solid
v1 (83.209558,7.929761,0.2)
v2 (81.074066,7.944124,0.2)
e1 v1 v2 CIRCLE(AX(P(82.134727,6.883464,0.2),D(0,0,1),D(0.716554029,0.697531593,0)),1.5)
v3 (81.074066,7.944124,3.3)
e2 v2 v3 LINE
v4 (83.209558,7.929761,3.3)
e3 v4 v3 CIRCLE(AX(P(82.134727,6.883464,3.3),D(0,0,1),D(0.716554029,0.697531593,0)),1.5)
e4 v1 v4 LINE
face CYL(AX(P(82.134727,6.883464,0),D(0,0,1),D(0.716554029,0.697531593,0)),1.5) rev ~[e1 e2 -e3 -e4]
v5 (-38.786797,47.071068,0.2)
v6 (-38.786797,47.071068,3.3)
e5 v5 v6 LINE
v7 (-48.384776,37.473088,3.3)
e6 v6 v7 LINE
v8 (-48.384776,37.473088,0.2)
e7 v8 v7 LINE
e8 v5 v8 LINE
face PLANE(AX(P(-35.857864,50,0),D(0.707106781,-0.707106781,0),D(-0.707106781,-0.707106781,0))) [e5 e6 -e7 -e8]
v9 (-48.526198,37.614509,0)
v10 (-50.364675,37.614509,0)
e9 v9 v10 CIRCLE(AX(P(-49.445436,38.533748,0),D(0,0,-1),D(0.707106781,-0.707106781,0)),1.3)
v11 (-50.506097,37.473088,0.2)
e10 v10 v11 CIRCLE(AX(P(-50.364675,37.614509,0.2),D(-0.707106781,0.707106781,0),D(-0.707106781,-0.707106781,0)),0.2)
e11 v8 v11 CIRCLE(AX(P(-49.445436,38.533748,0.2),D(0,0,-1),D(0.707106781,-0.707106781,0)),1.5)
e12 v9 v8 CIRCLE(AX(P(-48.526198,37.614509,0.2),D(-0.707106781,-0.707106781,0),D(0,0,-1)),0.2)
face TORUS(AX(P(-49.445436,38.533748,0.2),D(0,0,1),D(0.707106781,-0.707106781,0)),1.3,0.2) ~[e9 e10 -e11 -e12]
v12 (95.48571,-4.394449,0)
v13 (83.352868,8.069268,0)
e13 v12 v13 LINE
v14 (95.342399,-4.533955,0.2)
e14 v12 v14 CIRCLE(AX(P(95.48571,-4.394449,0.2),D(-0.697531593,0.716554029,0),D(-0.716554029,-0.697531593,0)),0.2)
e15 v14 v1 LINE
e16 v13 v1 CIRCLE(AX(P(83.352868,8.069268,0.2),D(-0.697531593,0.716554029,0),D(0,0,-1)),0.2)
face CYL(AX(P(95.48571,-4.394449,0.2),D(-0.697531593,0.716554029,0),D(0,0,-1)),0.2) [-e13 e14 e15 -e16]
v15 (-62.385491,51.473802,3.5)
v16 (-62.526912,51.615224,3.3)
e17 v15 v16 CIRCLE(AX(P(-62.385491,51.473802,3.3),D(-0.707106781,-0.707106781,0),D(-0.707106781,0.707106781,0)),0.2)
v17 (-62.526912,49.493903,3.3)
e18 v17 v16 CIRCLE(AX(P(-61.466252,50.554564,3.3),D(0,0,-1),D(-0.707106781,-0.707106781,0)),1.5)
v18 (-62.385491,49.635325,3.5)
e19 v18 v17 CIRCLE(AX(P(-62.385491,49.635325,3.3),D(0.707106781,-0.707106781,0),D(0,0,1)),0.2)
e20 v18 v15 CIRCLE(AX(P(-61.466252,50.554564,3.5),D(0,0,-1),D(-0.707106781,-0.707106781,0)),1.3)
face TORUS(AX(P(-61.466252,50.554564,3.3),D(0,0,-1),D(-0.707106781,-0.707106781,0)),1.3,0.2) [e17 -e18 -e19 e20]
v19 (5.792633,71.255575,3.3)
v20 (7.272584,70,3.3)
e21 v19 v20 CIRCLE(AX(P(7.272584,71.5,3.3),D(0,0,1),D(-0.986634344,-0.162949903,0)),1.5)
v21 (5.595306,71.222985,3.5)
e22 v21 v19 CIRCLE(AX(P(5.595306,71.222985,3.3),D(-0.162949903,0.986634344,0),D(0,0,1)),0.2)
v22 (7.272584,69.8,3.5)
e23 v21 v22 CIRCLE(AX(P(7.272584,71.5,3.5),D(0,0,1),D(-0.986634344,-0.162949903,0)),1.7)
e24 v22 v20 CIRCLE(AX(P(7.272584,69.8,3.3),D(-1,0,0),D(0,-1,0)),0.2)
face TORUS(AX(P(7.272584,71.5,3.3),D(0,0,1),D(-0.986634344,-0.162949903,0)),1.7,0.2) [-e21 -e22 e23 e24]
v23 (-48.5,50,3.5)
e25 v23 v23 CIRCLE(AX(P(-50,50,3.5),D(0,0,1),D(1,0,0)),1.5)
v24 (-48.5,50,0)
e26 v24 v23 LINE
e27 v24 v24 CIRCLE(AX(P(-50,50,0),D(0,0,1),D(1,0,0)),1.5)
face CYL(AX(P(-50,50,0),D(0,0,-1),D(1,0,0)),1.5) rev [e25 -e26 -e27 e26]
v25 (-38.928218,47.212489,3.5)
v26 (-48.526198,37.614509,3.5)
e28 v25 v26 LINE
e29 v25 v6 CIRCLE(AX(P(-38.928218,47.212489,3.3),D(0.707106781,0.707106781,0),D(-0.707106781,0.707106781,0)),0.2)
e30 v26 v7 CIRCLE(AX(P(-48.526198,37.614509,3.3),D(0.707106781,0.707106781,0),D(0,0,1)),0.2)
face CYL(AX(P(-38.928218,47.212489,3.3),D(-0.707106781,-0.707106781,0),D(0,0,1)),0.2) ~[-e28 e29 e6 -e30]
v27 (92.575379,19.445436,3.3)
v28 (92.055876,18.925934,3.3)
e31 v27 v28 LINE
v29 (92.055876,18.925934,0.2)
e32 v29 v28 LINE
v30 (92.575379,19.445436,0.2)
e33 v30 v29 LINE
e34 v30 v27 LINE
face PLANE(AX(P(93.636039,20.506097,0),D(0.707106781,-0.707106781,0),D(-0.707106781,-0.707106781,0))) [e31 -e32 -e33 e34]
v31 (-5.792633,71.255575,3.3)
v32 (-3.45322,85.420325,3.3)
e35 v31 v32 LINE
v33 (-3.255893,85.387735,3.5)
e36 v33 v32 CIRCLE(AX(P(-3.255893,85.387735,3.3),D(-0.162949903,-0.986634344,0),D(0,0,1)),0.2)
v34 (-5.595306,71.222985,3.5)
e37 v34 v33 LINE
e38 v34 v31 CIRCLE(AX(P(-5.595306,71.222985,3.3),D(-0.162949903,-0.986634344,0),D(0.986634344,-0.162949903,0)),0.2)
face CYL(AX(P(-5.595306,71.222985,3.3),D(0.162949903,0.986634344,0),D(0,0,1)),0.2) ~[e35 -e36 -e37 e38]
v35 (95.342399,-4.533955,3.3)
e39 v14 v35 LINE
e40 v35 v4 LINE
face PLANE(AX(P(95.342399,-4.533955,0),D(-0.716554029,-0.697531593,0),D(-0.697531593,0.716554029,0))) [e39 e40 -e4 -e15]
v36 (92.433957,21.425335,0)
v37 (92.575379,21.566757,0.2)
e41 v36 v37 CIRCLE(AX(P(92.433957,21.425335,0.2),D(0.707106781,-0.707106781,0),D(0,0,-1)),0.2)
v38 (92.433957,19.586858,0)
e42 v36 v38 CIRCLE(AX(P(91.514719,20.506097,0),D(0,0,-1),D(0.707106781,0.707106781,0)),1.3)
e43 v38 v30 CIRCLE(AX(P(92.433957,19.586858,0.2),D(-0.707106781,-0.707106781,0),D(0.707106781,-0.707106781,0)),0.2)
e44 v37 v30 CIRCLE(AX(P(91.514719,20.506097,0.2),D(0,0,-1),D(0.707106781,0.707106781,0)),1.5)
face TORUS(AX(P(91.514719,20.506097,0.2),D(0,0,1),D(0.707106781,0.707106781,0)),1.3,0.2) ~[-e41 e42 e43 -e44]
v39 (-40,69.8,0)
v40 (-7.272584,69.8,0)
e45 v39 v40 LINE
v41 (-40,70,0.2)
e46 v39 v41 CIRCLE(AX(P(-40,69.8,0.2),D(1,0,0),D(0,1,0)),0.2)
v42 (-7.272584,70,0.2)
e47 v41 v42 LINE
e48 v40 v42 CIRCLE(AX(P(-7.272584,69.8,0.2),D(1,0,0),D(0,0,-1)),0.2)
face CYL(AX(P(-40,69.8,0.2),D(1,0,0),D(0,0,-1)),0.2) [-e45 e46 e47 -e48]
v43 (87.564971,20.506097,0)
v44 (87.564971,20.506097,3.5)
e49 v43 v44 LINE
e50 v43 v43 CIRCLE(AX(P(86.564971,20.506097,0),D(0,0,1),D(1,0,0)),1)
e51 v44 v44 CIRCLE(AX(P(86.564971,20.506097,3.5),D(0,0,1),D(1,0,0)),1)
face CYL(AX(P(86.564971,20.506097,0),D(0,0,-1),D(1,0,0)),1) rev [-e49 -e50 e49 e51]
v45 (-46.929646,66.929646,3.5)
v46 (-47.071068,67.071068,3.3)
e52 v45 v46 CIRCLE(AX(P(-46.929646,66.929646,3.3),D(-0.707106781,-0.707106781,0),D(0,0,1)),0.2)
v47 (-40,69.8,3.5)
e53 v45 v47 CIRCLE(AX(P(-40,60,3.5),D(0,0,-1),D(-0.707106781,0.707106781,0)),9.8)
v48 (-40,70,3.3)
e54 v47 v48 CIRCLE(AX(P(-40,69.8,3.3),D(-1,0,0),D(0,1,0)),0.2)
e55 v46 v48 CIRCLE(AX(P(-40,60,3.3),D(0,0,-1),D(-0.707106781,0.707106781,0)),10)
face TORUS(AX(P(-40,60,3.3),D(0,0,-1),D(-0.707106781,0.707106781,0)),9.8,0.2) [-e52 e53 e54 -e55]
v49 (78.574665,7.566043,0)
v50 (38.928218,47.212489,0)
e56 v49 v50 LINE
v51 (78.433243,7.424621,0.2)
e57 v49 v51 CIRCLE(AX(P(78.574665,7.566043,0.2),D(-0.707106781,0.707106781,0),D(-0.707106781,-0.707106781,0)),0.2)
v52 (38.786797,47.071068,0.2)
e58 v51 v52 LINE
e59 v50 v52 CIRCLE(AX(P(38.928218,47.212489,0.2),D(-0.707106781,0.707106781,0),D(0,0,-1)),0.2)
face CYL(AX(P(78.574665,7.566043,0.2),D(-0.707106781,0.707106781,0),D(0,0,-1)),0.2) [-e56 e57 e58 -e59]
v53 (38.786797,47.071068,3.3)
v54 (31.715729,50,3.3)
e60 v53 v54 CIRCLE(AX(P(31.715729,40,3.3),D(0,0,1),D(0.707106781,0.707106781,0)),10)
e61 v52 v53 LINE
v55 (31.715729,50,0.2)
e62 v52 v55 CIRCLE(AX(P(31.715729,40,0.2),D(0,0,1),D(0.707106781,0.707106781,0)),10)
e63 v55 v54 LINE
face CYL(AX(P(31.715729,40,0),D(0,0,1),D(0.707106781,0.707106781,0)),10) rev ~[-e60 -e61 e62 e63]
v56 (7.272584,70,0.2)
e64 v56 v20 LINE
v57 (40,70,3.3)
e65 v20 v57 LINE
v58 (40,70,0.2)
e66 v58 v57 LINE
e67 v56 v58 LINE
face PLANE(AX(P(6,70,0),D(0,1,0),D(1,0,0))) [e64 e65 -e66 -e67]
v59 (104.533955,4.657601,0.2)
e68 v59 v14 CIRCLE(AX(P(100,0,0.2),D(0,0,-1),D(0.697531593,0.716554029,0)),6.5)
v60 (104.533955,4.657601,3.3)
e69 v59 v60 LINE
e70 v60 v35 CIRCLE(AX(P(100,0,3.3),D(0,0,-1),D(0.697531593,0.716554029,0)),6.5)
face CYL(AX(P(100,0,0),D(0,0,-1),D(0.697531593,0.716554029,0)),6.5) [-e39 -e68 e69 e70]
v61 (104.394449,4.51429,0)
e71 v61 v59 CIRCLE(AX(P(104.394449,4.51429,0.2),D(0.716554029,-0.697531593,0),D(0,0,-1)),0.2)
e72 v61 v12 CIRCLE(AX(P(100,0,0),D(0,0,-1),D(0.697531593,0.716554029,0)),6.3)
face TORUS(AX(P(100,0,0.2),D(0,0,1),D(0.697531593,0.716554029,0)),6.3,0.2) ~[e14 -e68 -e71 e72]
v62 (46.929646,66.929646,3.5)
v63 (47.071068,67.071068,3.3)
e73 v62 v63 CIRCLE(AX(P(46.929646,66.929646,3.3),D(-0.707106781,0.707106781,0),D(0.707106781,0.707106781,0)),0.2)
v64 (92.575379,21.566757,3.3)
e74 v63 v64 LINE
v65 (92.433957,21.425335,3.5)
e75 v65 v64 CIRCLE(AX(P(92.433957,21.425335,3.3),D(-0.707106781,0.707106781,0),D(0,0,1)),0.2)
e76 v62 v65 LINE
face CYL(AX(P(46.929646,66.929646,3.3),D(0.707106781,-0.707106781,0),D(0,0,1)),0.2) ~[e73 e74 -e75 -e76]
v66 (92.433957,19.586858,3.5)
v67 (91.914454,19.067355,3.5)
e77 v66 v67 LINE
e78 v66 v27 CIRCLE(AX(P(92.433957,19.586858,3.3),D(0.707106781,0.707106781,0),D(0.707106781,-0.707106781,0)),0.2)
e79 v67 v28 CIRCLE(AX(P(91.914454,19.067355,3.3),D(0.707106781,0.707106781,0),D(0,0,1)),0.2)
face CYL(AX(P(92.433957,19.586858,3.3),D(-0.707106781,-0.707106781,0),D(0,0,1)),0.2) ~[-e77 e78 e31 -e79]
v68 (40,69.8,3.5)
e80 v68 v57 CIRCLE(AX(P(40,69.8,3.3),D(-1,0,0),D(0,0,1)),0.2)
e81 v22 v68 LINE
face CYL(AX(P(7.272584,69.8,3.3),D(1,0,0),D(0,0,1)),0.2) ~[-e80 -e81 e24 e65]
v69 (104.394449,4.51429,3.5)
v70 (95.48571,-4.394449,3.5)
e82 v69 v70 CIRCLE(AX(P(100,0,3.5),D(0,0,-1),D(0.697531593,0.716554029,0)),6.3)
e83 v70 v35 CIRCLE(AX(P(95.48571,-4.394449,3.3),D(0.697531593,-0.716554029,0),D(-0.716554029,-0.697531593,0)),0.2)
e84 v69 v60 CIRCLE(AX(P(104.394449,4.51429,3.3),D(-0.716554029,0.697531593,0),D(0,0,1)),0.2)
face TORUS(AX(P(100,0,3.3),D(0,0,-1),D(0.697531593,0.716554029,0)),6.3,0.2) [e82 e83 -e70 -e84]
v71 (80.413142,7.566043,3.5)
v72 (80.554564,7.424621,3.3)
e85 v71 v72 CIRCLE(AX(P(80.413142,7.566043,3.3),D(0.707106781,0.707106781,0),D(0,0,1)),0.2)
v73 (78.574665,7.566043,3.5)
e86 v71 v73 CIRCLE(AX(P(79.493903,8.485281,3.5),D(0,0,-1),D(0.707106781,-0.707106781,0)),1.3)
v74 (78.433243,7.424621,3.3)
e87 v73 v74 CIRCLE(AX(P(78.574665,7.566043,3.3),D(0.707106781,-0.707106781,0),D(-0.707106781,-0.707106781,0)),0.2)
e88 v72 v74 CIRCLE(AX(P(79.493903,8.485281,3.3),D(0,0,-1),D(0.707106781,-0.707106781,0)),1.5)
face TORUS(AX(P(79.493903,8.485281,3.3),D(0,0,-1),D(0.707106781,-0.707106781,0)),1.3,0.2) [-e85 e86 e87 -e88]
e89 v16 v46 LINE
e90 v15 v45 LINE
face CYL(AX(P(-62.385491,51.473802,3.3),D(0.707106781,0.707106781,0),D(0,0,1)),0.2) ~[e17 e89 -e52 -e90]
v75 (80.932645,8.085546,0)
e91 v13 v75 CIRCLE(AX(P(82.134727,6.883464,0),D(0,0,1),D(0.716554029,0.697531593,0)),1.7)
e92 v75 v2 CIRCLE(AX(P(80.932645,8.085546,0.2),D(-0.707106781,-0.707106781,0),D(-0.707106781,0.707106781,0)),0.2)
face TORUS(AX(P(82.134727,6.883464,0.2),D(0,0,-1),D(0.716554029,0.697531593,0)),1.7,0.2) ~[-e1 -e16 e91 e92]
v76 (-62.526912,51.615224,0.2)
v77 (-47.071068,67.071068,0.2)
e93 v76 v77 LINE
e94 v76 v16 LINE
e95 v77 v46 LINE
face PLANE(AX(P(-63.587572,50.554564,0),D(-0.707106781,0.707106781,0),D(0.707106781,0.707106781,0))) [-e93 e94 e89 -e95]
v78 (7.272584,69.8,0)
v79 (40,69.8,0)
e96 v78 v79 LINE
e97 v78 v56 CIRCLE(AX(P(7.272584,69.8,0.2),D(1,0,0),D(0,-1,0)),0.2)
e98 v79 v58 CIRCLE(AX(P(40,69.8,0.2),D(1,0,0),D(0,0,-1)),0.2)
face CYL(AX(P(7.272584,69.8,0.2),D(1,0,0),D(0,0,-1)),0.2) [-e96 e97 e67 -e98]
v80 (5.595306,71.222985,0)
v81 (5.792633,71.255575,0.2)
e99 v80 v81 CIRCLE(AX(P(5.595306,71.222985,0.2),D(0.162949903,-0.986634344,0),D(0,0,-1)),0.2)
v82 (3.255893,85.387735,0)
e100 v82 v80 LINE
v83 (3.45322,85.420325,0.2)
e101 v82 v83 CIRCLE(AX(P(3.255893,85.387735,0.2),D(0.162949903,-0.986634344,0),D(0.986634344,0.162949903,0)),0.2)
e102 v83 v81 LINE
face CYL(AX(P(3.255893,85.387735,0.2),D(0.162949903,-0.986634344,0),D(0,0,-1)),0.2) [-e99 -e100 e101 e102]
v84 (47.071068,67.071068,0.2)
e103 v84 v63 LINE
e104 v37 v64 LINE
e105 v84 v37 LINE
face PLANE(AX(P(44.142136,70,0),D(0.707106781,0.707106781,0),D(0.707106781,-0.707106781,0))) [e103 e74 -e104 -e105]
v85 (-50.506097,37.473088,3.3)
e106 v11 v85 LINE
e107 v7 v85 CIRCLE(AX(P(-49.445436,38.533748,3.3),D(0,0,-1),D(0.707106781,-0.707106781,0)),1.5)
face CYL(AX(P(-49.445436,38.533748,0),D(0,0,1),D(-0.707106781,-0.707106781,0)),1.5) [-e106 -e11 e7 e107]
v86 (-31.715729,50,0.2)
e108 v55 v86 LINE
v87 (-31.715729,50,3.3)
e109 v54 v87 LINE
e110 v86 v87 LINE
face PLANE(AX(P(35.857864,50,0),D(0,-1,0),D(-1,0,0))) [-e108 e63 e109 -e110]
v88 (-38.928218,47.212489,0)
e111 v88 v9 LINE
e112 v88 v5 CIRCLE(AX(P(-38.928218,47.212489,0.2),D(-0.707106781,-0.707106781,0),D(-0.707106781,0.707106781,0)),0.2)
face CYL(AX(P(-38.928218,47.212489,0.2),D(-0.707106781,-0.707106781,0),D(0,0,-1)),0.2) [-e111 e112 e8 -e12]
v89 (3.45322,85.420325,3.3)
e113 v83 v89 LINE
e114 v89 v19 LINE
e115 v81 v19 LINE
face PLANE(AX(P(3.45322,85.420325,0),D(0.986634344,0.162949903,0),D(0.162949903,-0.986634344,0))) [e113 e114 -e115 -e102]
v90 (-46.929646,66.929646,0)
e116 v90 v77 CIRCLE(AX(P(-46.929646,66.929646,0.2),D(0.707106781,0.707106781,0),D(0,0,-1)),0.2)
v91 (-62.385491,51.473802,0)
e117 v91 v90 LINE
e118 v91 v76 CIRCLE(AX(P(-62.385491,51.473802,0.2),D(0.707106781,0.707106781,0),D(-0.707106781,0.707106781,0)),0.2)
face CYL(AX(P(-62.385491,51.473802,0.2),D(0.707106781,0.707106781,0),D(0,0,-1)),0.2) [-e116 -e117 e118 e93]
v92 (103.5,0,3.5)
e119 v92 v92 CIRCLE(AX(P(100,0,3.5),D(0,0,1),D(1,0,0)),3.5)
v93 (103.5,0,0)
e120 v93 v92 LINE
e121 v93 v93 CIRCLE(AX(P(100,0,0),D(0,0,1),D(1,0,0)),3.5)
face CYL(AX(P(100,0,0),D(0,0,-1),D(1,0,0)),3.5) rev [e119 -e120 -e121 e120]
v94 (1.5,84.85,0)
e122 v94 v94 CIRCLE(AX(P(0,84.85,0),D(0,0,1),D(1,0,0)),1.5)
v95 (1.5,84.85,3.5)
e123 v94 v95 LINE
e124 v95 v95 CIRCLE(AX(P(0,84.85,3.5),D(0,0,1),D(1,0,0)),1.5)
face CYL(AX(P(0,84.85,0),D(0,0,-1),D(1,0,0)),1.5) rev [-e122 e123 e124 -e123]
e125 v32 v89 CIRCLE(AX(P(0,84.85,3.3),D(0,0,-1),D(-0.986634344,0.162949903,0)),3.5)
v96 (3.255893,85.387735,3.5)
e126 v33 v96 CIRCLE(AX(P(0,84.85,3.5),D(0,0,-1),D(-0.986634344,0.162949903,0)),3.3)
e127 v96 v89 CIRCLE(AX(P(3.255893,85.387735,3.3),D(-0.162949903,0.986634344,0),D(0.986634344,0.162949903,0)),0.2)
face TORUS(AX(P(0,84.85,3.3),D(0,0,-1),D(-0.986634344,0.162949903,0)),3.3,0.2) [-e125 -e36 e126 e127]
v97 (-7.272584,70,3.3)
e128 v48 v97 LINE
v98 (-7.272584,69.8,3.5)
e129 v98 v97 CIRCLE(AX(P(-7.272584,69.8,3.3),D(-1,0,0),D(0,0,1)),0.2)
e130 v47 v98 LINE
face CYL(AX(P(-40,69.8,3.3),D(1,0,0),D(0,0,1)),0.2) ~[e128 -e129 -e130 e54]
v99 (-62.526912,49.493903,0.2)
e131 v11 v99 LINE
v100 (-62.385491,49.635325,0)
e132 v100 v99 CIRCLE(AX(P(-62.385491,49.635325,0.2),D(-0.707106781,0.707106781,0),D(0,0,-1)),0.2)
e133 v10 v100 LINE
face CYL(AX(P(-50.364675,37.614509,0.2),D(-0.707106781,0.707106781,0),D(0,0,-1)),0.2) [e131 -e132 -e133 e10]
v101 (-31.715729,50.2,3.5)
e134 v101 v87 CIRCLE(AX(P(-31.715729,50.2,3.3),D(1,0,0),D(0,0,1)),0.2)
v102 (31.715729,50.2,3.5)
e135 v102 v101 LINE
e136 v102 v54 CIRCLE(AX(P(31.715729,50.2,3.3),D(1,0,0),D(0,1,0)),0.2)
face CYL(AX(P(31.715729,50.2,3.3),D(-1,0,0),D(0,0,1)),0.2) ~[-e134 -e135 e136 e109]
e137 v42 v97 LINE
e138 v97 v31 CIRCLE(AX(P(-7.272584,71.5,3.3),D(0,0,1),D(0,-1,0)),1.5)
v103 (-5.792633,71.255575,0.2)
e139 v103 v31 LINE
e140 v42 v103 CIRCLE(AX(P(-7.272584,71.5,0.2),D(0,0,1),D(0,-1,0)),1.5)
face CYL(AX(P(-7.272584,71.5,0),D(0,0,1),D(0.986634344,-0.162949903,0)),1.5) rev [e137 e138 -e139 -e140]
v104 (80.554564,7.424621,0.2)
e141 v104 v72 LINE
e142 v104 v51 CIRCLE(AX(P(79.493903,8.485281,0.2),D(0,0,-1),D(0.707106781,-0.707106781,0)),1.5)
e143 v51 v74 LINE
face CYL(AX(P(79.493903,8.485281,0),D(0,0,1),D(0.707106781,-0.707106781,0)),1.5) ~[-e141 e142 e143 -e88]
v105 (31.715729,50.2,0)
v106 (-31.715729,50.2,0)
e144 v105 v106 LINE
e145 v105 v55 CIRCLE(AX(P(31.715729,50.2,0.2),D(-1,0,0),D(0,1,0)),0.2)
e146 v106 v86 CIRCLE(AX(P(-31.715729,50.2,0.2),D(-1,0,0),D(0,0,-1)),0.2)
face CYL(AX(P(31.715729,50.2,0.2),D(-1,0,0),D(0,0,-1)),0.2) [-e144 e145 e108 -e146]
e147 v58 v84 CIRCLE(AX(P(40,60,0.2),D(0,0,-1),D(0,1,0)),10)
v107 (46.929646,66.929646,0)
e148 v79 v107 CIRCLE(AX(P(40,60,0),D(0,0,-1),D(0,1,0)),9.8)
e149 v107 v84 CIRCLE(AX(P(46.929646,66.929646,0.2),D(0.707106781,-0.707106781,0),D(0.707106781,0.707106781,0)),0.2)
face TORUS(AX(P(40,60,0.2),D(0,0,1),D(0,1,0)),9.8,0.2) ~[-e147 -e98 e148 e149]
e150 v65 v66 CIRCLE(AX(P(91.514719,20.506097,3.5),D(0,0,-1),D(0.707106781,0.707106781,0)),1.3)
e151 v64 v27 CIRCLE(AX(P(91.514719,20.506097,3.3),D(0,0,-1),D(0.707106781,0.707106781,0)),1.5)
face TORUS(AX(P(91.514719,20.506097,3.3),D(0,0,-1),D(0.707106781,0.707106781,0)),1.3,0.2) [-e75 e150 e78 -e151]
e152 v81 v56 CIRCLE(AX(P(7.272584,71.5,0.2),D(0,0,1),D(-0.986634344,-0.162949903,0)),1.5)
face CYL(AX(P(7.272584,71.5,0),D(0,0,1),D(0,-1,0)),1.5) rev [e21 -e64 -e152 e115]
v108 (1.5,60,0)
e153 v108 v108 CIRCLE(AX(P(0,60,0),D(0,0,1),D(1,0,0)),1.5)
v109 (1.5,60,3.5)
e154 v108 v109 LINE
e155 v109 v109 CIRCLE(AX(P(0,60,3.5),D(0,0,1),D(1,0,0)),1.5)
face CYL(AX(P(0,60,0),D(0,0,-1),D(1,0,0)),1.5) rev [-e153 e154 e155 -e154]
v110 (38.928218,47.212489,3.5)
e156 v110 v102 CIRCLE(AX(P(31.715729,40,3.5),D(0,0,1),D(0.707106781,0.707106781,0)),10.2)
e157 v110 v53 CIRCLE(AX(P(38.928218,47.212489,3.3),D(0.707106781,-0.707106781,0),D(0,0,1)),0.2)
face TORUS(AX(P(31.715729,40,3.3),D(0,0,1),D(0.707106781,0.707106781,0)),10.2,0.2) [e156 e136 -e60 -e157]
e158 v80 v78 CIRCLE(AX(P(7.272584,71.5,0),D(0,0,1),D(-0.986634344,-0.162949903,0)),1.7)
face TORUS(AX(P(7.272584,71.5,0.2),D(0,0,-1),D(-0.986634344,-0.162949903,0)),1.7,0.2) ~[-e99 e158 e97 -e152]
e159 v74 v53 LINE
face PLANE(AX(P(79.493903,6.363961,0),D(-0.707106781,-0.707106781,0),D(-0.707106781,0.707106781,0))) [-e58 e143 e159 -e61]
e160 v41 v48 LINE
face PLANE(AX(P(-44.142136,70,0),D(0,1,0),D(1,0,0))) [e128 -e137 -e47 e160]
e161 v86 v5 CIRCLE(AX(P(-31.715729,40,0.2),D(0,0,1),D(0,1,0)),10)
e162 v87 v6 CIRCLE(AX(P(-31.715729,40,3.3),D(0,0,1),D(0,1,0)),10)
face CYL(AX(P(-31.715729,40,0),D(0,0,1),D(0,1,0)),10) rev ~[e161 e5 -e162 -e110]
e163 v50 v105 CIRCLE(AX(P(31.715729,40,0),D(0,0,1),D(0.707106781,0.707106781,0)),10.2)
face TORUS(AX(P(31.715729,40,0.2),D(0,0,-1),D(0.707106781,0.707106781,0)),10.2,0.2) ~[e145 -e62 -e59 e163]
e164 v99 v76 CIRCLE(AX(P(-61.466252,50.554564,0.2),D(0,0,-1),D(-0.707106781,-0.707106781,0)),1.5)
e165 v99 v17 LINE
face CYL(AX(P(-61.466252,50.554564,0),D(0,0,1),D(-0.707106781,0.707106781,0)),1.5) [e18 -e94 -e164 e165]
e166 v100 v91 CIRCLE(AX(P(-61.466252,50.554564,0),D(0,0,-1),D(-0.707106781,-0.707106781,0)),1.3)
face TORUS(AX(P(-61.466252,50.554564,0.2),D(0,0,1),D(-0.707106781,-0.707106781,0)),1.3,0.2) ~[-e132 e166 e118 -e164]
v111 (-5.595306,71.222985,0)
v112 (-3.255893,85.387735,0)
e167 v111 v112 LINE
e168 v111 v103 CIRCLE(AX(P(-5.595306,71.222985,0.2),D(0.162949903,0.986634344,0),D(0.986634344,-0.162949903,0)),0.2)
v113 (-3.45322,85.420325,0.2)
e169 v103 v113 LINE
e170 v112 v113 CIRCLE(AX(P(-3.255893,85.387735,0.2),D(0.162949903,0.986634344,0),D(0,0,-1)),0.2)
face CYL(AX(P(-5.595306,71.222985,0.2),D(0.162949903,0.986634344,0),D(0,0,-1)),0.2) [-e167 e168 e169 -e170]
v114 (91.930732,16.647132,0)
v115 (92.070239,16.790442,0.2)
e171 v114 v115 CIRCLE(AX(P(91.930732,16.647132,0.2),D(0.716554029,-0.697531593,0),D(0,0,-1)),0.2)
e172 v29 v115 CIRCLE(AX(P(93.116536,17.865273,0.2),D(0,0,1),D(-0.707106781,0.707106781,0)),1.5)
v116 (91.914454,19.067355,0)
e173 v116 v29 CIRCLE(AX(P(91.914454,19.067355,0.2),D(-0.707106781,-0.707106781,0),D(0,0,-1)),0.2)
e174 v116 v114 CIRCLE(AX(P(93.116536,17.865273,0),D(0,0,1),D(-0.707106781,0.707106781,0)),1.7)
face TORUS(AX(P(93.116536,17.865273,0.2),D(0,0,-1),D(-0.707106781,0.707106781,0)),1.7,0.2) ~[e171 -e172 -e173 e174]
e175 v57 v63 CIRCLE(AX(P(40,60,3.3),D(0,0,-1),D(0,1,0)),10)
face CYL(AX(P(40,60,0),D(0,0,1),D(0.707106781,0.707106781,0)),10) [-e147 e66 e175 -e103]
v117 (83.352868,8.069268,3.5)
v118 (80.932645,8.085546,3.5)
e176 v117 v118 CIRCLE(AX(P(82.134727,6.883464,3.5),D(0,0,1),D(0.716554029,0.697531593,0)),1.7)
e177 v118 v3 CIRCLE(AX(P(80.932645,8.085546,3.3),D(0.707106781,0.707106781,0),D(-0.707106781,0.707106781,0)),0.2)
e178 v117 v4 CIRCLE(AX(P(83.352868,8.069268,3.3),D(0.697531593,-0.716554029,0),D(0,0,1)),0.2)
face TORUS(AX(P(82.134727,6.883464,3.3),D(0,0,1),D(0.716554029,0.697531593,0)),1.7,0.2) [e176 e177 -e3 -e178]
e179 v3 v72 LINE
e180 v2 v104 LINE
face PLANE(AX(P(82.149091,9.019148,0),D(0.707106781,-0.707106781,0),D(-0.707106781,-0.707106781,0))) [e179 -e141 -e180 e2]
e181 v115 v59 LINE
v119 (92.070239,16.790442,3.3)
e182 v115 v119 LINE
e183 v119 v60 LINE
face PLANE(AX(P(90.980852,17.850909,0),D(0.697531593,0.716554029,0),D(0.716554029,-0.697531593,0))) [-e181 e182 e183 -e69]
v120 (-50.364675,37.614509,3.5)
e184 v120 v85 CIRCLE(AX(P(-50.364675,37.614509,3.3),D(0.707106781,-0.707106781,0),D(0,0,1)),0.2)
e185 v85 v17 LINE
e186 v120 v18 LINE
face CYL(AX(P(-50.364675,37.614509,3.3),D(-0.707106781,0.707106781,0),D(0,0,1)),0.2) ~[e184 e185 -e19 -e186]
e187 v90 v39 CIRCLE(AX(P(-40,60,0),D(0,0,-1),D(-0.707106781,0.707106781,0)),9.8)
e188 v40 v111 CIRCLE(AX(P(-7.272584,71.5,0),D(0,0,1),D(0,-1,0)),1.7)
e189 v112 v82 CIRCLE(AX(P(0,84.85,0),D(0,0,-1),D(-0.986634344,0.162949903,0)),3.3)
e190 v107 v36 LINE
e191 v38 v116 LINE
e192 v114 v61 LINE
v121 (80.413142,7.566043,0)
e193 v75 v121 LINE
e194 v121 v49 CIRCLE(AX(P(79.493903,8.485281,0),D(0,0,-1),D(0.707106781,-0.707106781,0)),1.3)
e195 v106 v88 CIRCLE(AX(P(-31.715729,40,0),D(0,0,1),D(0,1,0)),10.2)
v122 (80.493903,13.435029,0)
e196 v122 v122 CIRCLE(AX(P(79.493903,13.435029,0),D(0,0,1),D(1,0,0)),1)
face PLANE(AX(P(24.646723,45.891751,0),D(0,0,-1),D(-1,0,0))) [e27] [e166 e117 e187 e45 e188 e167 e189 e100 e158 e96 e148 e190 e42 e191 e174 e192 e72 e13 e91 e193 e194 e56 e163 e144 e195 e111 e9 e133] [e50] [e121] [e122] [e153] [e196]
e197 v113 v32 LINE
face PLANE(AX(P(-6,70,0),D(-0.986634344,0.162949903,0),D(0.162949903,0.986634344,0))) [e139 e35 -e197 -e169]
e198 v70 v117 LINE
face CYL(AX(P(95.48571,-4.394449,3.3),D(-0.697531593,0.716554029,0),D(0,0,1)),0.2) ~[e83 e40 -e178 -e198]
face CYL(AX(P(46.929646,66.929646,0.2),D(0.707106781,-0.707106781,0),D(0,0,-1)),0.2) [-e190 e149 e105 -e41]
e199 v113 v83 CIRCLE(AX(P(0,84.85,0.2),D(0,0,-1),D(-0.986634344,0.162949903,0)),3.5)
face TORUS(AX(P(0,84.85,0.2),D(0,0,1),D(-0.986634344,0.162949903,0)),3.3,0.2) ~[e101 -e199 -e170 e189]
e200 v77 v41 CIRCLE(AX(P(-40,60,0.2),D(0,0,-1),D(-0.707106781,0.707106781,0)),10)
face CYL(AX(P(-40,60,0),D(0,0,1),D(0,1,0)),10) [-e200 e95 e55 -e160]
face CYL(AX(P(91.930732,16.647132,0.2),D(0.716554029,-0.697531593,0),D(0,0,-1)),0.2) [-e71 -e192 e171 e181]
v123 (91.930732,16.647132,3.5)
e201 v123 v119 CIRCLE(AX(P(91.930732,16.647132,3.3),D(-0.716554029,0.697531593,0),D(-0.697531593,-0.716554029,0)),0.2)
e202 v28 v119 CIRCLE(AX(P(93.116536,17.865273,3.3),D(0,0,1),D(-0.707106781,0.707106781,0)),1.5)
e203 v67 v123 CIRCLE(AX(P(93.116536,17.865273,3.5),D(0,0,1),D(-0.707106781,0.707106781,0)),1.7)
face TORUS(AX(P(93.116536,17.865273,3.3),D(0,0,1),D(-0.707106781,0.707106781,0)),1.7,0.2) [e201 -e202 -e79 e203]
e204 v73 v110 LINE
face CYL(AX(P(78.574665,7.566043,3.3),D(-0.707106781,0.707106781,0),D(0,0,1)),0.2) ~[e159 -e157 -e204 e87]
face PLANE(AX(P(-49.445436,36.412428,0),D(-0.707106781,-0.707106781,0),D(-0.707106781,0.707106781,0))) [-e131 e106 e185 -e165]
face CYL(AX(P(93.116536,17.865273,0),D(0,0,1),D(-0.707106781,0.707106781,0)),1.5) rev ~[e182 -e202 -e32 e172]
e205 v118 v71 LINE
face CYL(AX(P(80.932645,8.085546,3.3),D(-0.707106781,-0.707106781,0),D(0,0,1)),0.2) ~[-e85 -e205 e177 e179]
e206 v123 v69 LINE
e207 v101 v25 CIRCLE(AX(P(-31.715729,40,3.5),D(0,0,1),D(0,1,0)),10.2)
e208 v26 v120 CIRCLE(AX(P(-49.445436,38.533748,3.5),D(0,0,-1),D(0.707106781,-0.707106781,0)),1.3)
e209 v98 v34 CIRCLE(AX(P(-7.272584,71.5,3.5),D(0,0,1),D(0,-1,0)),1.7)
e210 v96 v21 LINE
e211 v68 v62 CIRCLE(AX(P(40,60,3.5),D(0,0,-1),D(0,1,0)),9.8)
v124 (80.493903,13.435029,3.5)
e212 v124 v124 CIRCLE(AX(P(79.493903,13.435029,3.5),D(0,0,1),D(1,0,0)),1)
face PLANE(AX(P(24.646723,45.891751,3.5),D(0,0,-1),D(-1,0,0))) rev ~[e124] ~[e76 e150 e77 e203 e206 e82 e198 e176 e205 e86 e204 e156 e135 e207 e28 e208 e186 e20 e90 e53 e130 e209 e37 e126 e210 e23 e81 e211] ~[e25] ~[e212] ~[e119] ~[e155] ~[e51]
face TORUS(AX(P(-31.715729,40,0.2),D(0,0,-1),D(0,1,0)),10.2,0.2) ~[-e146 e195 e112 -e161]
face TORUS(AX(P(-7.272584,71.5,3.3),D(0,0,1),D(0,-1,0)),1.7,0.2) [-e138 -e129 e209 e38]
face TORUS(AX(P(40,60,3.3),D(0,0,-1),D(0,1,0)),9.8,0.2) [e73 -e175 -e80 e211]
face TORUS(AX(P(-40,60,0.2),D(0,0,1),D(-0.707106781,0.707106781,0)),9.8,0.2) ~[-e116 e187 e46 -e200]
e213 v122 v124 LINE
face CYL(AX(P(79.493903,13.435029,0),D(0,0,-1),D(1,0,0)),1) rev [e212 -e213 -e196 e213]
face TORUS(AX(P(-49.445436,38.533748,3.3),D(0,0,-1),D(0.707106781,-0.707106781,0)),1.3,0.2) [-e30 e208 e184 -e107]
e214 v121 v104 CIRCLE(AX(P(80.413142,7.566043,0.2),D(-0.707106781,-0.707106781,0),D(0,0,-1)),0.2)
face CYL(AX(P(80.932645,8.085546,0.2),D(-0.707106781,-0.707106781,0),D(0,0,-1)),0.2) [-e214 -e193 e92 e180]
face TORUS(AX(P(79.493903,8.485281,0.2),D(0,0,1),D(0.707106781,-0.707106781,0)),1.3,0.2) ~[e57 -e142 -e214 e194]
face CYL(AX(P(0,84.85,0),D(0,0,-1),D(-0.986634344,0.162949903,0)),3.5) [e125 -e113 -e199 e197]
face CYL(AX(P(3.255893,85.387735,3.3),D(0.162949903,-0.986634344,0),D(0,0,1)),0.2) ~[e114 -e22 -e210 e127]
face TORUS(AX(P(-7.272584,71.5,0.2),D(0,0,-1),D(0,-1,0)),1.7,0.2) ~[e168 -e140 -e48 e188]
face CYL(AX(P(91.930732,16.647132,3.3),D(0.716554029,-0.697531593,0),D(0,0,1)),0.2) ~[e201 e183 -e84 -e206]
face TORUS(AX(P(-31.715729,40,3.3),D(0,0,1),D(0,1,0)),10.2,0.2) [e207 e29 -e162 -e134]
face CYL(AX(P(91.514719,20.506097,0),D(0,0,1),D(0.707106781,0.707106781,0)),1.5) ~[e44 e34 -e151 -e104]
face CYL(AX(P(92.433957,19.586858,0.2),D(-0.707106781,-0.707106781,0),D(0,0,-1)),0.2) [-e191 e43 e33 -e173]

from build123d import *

# Parameters (mm, degrees)
SKETCH5_R           = 3.5
SKETCH5_R_2         = 1.5
SKETCH5_R_3         = 1
BOSS_EXTRUDE2_DEPTH = 3.5
FILLET1_R           = 10
FILLET2_R           = 1.5
FILLET3_R           = 0.2


with BuildPart() as part:
    # Sketch5 → Boss-Extrude2 (new body)
    with BuildSketch(Plane.XY):
        with BuildLine():
            Line((90.980851591, 17.850909276), (104.533955357, 4.657601188))
            ThreePointArc((104.533955357, 4.657601188), (104.596194078, -4.596194078), (95.342398812, -4.533955357))
            Line((95.342398812, -4.533955357), (82.149090724, 9.019148409))
            Line((82.149090724, 9.019148409), (79.493903346, 6.363961031))
            Line((79.493903346, 6.363961031), (35.857864376, 50))
            Line((35.857864376, 50), (-35.857864376, 50))
            Line((-35.857864376, 50), (-49.445436483, 36.412427894))
            Line((-49.445436483, 36.412427894), (-63.587572106, 50.554563517))
            Line((-63.587572106, 50.554563517), (-44.142135624, 70))
            Line((-44.142135624, 70), (-6, 70))
            Line((-6, 70), (-3.453220204, 85.420324662))
            ThreePointArc((-3.453220204, 85.420324662), (0, 88.35), (3.453220204, 85.420324662))
            Line((3.453220204, 85.420324662), (6, 70))
            Line((6, 70), (44.142135624, 70))
            Line((44.142135624, 70), (93.636038969, 20.506096654))
            Line((93.636038969, 20.506096654), (90.980851591, 17.850909276))
        make_face()
        with Locations((100, 0)):
            Circle(SKETCH5_R, mode=Mode.SUBTRACT)
        with Locations((0, 84.85)):
            Circle(SKETCH5_R_2, mode=Mode.SUBTRACT)
        with Locations((0, 60)):
            Circle(SKETCH5_R_2, mode=Mode.SUBTRACT)
        with Locations((86.564971157, 20.506096654)):
            Circle(SKETCH5_R_3, mode=Mode.SUBTRACT)
        with Locations((79.493903346, 13.435028843)):
            Circle(SKETCH5_R_3, mode=Mode.SUBTRACT)
        with Locations((-50, 50)):
            Circle(SKETCH5_R_2, mode=Mode.SUBTRACT)
    extrude(amount=BOSS_EXTRUDE2_DEPTH)

    # Fillet1
    fillet1_edges = [part.edges().sort_by_distance(p)[0] for p in [
        (44.142135624, 70, 1.75),
        (35.857864376, 50, 1.75),
        (-35.857864376, 50, 1.75),
        (-44.142135624, 70, 1.75),
    ]]
    fillet(fillet1_edges, radius=FILLET1_R)

    # Fillet2
    fillet2_edges = [part.edges().sort_by_distance(p)[0] for p in [
        (6, 70, 1.75),
        (93.636038969, 20.506096654, 1.75),
        (90.980851591, 17.850909276, 1.75),
        (82.149090724, 9.019148409, 1.75),
        (79.493903346, 6.363961031, 1.75),
        (-49.445436483, 36.412427894, 1.75),
        (-63.587572106, 50.554563517, 1.75),
        (-6, 70, 1.75),
    ]]
    fillet(fillet2_edges, radius=FILLET2_R)

    # Fillet3
    fillet3_edges = [part.edges().sort_by_distance(p)[0] for p in [
        (98.302096991, 10.724021751, 0),
        (89.275978249, 1.697903009, 0),
        (80.814314994, 7.684372679, 0),
        (-56.516504294, 43.483495706, 0),
        (-23.636292033, 70, 0),
        (-4.622926377, 78.337949903, 0),
        (4.622926377, 78.337949903, 0),
        (79.493903346, 6.985281374, 0),
        (93.014718626, 20.506096654, 0),
        (-62.966251763, 50.554563517, 0),
        (-49.445436483, 37.033748237, 0),
        (-56.516504294, 43.483495706, 3.5),
        (69.823223305, 44.318912319, 3.5),
        (4.622926377, 78.337949903, 3.5),
        (-4.622926377, 78.337949903, 3.5),
        (-23.636292033, 70, 3.5),
        (80.814314994, 7.684372679, 3.5),
        (89.275978249, 1.697903009, 3.5),
        (98.302096991, 10.724021751, 3.5),
        (92.315627321, 19.185685006, 3.5),
        (79.493903346, 6.985281374, 3.5),
        (93.014718626, 20.506096654, 3.5),
        (-62.966251763, 50.554563517, 3.5),
        (-49.445436483, 37.033748237, 3.5),
        (6.302181387, 70.356182427, 0),
        (6.302181387, 70.356182427, 3.5),
        (-6.302181387, 70.356182427, 0),
        (-6.302181387, 70.356182427, 3.5),
        (91.616569941, 17.855184959, 0),
        (91.616569941, 17.855184959, 3.5),
        (82.144815041, 8.383430059, 0),
        (82.144815041, 8.383430059, 3.5),
        (104.596194078, -4.596194078, 0),
        (0, 88.35, 0),
        (0, 88.35, 3.5),
        (23.636292033, 70, 0),
        (23.636292033, 70, 3.5),
        (58.610019869, 27.247844507, 0),
        (0, 50, 0),
        (-54.798989873, 59.343145751, 0),
        (-43.826834324, 69.238795325, 0),
        (43.826834324, 69.238795325, 0),
        (-54.798989873, 59.343145751, 3.5),
        (0, 50, 3.5),
        (58.610019869, 27.247844507, 3.5),
        (-43.826834324, 69.238795325, 3.5),
        (43.826834324, 69.238795325, 3.5),
        (35.542563076, 49.238795325, 0),
        (35.542563076, 49.238795325, 3.5),
        (-35.542563076, 49.238795325, 0),
        (-35.542563076, 49.238795325, 3.5),
        (104.596194078, -4.596194078, 3.5),
        (-43.585786438, 42.272077939, 0),
        (-43.585786438, 42.272077939, 3.5),
        (69.823223305, 44.318912319, 0),
        (92.315627321, 19.185685006, 0),
    ]]
    fillet(fillet3_edges, radius=FILLET3_R)


solid = part.part
